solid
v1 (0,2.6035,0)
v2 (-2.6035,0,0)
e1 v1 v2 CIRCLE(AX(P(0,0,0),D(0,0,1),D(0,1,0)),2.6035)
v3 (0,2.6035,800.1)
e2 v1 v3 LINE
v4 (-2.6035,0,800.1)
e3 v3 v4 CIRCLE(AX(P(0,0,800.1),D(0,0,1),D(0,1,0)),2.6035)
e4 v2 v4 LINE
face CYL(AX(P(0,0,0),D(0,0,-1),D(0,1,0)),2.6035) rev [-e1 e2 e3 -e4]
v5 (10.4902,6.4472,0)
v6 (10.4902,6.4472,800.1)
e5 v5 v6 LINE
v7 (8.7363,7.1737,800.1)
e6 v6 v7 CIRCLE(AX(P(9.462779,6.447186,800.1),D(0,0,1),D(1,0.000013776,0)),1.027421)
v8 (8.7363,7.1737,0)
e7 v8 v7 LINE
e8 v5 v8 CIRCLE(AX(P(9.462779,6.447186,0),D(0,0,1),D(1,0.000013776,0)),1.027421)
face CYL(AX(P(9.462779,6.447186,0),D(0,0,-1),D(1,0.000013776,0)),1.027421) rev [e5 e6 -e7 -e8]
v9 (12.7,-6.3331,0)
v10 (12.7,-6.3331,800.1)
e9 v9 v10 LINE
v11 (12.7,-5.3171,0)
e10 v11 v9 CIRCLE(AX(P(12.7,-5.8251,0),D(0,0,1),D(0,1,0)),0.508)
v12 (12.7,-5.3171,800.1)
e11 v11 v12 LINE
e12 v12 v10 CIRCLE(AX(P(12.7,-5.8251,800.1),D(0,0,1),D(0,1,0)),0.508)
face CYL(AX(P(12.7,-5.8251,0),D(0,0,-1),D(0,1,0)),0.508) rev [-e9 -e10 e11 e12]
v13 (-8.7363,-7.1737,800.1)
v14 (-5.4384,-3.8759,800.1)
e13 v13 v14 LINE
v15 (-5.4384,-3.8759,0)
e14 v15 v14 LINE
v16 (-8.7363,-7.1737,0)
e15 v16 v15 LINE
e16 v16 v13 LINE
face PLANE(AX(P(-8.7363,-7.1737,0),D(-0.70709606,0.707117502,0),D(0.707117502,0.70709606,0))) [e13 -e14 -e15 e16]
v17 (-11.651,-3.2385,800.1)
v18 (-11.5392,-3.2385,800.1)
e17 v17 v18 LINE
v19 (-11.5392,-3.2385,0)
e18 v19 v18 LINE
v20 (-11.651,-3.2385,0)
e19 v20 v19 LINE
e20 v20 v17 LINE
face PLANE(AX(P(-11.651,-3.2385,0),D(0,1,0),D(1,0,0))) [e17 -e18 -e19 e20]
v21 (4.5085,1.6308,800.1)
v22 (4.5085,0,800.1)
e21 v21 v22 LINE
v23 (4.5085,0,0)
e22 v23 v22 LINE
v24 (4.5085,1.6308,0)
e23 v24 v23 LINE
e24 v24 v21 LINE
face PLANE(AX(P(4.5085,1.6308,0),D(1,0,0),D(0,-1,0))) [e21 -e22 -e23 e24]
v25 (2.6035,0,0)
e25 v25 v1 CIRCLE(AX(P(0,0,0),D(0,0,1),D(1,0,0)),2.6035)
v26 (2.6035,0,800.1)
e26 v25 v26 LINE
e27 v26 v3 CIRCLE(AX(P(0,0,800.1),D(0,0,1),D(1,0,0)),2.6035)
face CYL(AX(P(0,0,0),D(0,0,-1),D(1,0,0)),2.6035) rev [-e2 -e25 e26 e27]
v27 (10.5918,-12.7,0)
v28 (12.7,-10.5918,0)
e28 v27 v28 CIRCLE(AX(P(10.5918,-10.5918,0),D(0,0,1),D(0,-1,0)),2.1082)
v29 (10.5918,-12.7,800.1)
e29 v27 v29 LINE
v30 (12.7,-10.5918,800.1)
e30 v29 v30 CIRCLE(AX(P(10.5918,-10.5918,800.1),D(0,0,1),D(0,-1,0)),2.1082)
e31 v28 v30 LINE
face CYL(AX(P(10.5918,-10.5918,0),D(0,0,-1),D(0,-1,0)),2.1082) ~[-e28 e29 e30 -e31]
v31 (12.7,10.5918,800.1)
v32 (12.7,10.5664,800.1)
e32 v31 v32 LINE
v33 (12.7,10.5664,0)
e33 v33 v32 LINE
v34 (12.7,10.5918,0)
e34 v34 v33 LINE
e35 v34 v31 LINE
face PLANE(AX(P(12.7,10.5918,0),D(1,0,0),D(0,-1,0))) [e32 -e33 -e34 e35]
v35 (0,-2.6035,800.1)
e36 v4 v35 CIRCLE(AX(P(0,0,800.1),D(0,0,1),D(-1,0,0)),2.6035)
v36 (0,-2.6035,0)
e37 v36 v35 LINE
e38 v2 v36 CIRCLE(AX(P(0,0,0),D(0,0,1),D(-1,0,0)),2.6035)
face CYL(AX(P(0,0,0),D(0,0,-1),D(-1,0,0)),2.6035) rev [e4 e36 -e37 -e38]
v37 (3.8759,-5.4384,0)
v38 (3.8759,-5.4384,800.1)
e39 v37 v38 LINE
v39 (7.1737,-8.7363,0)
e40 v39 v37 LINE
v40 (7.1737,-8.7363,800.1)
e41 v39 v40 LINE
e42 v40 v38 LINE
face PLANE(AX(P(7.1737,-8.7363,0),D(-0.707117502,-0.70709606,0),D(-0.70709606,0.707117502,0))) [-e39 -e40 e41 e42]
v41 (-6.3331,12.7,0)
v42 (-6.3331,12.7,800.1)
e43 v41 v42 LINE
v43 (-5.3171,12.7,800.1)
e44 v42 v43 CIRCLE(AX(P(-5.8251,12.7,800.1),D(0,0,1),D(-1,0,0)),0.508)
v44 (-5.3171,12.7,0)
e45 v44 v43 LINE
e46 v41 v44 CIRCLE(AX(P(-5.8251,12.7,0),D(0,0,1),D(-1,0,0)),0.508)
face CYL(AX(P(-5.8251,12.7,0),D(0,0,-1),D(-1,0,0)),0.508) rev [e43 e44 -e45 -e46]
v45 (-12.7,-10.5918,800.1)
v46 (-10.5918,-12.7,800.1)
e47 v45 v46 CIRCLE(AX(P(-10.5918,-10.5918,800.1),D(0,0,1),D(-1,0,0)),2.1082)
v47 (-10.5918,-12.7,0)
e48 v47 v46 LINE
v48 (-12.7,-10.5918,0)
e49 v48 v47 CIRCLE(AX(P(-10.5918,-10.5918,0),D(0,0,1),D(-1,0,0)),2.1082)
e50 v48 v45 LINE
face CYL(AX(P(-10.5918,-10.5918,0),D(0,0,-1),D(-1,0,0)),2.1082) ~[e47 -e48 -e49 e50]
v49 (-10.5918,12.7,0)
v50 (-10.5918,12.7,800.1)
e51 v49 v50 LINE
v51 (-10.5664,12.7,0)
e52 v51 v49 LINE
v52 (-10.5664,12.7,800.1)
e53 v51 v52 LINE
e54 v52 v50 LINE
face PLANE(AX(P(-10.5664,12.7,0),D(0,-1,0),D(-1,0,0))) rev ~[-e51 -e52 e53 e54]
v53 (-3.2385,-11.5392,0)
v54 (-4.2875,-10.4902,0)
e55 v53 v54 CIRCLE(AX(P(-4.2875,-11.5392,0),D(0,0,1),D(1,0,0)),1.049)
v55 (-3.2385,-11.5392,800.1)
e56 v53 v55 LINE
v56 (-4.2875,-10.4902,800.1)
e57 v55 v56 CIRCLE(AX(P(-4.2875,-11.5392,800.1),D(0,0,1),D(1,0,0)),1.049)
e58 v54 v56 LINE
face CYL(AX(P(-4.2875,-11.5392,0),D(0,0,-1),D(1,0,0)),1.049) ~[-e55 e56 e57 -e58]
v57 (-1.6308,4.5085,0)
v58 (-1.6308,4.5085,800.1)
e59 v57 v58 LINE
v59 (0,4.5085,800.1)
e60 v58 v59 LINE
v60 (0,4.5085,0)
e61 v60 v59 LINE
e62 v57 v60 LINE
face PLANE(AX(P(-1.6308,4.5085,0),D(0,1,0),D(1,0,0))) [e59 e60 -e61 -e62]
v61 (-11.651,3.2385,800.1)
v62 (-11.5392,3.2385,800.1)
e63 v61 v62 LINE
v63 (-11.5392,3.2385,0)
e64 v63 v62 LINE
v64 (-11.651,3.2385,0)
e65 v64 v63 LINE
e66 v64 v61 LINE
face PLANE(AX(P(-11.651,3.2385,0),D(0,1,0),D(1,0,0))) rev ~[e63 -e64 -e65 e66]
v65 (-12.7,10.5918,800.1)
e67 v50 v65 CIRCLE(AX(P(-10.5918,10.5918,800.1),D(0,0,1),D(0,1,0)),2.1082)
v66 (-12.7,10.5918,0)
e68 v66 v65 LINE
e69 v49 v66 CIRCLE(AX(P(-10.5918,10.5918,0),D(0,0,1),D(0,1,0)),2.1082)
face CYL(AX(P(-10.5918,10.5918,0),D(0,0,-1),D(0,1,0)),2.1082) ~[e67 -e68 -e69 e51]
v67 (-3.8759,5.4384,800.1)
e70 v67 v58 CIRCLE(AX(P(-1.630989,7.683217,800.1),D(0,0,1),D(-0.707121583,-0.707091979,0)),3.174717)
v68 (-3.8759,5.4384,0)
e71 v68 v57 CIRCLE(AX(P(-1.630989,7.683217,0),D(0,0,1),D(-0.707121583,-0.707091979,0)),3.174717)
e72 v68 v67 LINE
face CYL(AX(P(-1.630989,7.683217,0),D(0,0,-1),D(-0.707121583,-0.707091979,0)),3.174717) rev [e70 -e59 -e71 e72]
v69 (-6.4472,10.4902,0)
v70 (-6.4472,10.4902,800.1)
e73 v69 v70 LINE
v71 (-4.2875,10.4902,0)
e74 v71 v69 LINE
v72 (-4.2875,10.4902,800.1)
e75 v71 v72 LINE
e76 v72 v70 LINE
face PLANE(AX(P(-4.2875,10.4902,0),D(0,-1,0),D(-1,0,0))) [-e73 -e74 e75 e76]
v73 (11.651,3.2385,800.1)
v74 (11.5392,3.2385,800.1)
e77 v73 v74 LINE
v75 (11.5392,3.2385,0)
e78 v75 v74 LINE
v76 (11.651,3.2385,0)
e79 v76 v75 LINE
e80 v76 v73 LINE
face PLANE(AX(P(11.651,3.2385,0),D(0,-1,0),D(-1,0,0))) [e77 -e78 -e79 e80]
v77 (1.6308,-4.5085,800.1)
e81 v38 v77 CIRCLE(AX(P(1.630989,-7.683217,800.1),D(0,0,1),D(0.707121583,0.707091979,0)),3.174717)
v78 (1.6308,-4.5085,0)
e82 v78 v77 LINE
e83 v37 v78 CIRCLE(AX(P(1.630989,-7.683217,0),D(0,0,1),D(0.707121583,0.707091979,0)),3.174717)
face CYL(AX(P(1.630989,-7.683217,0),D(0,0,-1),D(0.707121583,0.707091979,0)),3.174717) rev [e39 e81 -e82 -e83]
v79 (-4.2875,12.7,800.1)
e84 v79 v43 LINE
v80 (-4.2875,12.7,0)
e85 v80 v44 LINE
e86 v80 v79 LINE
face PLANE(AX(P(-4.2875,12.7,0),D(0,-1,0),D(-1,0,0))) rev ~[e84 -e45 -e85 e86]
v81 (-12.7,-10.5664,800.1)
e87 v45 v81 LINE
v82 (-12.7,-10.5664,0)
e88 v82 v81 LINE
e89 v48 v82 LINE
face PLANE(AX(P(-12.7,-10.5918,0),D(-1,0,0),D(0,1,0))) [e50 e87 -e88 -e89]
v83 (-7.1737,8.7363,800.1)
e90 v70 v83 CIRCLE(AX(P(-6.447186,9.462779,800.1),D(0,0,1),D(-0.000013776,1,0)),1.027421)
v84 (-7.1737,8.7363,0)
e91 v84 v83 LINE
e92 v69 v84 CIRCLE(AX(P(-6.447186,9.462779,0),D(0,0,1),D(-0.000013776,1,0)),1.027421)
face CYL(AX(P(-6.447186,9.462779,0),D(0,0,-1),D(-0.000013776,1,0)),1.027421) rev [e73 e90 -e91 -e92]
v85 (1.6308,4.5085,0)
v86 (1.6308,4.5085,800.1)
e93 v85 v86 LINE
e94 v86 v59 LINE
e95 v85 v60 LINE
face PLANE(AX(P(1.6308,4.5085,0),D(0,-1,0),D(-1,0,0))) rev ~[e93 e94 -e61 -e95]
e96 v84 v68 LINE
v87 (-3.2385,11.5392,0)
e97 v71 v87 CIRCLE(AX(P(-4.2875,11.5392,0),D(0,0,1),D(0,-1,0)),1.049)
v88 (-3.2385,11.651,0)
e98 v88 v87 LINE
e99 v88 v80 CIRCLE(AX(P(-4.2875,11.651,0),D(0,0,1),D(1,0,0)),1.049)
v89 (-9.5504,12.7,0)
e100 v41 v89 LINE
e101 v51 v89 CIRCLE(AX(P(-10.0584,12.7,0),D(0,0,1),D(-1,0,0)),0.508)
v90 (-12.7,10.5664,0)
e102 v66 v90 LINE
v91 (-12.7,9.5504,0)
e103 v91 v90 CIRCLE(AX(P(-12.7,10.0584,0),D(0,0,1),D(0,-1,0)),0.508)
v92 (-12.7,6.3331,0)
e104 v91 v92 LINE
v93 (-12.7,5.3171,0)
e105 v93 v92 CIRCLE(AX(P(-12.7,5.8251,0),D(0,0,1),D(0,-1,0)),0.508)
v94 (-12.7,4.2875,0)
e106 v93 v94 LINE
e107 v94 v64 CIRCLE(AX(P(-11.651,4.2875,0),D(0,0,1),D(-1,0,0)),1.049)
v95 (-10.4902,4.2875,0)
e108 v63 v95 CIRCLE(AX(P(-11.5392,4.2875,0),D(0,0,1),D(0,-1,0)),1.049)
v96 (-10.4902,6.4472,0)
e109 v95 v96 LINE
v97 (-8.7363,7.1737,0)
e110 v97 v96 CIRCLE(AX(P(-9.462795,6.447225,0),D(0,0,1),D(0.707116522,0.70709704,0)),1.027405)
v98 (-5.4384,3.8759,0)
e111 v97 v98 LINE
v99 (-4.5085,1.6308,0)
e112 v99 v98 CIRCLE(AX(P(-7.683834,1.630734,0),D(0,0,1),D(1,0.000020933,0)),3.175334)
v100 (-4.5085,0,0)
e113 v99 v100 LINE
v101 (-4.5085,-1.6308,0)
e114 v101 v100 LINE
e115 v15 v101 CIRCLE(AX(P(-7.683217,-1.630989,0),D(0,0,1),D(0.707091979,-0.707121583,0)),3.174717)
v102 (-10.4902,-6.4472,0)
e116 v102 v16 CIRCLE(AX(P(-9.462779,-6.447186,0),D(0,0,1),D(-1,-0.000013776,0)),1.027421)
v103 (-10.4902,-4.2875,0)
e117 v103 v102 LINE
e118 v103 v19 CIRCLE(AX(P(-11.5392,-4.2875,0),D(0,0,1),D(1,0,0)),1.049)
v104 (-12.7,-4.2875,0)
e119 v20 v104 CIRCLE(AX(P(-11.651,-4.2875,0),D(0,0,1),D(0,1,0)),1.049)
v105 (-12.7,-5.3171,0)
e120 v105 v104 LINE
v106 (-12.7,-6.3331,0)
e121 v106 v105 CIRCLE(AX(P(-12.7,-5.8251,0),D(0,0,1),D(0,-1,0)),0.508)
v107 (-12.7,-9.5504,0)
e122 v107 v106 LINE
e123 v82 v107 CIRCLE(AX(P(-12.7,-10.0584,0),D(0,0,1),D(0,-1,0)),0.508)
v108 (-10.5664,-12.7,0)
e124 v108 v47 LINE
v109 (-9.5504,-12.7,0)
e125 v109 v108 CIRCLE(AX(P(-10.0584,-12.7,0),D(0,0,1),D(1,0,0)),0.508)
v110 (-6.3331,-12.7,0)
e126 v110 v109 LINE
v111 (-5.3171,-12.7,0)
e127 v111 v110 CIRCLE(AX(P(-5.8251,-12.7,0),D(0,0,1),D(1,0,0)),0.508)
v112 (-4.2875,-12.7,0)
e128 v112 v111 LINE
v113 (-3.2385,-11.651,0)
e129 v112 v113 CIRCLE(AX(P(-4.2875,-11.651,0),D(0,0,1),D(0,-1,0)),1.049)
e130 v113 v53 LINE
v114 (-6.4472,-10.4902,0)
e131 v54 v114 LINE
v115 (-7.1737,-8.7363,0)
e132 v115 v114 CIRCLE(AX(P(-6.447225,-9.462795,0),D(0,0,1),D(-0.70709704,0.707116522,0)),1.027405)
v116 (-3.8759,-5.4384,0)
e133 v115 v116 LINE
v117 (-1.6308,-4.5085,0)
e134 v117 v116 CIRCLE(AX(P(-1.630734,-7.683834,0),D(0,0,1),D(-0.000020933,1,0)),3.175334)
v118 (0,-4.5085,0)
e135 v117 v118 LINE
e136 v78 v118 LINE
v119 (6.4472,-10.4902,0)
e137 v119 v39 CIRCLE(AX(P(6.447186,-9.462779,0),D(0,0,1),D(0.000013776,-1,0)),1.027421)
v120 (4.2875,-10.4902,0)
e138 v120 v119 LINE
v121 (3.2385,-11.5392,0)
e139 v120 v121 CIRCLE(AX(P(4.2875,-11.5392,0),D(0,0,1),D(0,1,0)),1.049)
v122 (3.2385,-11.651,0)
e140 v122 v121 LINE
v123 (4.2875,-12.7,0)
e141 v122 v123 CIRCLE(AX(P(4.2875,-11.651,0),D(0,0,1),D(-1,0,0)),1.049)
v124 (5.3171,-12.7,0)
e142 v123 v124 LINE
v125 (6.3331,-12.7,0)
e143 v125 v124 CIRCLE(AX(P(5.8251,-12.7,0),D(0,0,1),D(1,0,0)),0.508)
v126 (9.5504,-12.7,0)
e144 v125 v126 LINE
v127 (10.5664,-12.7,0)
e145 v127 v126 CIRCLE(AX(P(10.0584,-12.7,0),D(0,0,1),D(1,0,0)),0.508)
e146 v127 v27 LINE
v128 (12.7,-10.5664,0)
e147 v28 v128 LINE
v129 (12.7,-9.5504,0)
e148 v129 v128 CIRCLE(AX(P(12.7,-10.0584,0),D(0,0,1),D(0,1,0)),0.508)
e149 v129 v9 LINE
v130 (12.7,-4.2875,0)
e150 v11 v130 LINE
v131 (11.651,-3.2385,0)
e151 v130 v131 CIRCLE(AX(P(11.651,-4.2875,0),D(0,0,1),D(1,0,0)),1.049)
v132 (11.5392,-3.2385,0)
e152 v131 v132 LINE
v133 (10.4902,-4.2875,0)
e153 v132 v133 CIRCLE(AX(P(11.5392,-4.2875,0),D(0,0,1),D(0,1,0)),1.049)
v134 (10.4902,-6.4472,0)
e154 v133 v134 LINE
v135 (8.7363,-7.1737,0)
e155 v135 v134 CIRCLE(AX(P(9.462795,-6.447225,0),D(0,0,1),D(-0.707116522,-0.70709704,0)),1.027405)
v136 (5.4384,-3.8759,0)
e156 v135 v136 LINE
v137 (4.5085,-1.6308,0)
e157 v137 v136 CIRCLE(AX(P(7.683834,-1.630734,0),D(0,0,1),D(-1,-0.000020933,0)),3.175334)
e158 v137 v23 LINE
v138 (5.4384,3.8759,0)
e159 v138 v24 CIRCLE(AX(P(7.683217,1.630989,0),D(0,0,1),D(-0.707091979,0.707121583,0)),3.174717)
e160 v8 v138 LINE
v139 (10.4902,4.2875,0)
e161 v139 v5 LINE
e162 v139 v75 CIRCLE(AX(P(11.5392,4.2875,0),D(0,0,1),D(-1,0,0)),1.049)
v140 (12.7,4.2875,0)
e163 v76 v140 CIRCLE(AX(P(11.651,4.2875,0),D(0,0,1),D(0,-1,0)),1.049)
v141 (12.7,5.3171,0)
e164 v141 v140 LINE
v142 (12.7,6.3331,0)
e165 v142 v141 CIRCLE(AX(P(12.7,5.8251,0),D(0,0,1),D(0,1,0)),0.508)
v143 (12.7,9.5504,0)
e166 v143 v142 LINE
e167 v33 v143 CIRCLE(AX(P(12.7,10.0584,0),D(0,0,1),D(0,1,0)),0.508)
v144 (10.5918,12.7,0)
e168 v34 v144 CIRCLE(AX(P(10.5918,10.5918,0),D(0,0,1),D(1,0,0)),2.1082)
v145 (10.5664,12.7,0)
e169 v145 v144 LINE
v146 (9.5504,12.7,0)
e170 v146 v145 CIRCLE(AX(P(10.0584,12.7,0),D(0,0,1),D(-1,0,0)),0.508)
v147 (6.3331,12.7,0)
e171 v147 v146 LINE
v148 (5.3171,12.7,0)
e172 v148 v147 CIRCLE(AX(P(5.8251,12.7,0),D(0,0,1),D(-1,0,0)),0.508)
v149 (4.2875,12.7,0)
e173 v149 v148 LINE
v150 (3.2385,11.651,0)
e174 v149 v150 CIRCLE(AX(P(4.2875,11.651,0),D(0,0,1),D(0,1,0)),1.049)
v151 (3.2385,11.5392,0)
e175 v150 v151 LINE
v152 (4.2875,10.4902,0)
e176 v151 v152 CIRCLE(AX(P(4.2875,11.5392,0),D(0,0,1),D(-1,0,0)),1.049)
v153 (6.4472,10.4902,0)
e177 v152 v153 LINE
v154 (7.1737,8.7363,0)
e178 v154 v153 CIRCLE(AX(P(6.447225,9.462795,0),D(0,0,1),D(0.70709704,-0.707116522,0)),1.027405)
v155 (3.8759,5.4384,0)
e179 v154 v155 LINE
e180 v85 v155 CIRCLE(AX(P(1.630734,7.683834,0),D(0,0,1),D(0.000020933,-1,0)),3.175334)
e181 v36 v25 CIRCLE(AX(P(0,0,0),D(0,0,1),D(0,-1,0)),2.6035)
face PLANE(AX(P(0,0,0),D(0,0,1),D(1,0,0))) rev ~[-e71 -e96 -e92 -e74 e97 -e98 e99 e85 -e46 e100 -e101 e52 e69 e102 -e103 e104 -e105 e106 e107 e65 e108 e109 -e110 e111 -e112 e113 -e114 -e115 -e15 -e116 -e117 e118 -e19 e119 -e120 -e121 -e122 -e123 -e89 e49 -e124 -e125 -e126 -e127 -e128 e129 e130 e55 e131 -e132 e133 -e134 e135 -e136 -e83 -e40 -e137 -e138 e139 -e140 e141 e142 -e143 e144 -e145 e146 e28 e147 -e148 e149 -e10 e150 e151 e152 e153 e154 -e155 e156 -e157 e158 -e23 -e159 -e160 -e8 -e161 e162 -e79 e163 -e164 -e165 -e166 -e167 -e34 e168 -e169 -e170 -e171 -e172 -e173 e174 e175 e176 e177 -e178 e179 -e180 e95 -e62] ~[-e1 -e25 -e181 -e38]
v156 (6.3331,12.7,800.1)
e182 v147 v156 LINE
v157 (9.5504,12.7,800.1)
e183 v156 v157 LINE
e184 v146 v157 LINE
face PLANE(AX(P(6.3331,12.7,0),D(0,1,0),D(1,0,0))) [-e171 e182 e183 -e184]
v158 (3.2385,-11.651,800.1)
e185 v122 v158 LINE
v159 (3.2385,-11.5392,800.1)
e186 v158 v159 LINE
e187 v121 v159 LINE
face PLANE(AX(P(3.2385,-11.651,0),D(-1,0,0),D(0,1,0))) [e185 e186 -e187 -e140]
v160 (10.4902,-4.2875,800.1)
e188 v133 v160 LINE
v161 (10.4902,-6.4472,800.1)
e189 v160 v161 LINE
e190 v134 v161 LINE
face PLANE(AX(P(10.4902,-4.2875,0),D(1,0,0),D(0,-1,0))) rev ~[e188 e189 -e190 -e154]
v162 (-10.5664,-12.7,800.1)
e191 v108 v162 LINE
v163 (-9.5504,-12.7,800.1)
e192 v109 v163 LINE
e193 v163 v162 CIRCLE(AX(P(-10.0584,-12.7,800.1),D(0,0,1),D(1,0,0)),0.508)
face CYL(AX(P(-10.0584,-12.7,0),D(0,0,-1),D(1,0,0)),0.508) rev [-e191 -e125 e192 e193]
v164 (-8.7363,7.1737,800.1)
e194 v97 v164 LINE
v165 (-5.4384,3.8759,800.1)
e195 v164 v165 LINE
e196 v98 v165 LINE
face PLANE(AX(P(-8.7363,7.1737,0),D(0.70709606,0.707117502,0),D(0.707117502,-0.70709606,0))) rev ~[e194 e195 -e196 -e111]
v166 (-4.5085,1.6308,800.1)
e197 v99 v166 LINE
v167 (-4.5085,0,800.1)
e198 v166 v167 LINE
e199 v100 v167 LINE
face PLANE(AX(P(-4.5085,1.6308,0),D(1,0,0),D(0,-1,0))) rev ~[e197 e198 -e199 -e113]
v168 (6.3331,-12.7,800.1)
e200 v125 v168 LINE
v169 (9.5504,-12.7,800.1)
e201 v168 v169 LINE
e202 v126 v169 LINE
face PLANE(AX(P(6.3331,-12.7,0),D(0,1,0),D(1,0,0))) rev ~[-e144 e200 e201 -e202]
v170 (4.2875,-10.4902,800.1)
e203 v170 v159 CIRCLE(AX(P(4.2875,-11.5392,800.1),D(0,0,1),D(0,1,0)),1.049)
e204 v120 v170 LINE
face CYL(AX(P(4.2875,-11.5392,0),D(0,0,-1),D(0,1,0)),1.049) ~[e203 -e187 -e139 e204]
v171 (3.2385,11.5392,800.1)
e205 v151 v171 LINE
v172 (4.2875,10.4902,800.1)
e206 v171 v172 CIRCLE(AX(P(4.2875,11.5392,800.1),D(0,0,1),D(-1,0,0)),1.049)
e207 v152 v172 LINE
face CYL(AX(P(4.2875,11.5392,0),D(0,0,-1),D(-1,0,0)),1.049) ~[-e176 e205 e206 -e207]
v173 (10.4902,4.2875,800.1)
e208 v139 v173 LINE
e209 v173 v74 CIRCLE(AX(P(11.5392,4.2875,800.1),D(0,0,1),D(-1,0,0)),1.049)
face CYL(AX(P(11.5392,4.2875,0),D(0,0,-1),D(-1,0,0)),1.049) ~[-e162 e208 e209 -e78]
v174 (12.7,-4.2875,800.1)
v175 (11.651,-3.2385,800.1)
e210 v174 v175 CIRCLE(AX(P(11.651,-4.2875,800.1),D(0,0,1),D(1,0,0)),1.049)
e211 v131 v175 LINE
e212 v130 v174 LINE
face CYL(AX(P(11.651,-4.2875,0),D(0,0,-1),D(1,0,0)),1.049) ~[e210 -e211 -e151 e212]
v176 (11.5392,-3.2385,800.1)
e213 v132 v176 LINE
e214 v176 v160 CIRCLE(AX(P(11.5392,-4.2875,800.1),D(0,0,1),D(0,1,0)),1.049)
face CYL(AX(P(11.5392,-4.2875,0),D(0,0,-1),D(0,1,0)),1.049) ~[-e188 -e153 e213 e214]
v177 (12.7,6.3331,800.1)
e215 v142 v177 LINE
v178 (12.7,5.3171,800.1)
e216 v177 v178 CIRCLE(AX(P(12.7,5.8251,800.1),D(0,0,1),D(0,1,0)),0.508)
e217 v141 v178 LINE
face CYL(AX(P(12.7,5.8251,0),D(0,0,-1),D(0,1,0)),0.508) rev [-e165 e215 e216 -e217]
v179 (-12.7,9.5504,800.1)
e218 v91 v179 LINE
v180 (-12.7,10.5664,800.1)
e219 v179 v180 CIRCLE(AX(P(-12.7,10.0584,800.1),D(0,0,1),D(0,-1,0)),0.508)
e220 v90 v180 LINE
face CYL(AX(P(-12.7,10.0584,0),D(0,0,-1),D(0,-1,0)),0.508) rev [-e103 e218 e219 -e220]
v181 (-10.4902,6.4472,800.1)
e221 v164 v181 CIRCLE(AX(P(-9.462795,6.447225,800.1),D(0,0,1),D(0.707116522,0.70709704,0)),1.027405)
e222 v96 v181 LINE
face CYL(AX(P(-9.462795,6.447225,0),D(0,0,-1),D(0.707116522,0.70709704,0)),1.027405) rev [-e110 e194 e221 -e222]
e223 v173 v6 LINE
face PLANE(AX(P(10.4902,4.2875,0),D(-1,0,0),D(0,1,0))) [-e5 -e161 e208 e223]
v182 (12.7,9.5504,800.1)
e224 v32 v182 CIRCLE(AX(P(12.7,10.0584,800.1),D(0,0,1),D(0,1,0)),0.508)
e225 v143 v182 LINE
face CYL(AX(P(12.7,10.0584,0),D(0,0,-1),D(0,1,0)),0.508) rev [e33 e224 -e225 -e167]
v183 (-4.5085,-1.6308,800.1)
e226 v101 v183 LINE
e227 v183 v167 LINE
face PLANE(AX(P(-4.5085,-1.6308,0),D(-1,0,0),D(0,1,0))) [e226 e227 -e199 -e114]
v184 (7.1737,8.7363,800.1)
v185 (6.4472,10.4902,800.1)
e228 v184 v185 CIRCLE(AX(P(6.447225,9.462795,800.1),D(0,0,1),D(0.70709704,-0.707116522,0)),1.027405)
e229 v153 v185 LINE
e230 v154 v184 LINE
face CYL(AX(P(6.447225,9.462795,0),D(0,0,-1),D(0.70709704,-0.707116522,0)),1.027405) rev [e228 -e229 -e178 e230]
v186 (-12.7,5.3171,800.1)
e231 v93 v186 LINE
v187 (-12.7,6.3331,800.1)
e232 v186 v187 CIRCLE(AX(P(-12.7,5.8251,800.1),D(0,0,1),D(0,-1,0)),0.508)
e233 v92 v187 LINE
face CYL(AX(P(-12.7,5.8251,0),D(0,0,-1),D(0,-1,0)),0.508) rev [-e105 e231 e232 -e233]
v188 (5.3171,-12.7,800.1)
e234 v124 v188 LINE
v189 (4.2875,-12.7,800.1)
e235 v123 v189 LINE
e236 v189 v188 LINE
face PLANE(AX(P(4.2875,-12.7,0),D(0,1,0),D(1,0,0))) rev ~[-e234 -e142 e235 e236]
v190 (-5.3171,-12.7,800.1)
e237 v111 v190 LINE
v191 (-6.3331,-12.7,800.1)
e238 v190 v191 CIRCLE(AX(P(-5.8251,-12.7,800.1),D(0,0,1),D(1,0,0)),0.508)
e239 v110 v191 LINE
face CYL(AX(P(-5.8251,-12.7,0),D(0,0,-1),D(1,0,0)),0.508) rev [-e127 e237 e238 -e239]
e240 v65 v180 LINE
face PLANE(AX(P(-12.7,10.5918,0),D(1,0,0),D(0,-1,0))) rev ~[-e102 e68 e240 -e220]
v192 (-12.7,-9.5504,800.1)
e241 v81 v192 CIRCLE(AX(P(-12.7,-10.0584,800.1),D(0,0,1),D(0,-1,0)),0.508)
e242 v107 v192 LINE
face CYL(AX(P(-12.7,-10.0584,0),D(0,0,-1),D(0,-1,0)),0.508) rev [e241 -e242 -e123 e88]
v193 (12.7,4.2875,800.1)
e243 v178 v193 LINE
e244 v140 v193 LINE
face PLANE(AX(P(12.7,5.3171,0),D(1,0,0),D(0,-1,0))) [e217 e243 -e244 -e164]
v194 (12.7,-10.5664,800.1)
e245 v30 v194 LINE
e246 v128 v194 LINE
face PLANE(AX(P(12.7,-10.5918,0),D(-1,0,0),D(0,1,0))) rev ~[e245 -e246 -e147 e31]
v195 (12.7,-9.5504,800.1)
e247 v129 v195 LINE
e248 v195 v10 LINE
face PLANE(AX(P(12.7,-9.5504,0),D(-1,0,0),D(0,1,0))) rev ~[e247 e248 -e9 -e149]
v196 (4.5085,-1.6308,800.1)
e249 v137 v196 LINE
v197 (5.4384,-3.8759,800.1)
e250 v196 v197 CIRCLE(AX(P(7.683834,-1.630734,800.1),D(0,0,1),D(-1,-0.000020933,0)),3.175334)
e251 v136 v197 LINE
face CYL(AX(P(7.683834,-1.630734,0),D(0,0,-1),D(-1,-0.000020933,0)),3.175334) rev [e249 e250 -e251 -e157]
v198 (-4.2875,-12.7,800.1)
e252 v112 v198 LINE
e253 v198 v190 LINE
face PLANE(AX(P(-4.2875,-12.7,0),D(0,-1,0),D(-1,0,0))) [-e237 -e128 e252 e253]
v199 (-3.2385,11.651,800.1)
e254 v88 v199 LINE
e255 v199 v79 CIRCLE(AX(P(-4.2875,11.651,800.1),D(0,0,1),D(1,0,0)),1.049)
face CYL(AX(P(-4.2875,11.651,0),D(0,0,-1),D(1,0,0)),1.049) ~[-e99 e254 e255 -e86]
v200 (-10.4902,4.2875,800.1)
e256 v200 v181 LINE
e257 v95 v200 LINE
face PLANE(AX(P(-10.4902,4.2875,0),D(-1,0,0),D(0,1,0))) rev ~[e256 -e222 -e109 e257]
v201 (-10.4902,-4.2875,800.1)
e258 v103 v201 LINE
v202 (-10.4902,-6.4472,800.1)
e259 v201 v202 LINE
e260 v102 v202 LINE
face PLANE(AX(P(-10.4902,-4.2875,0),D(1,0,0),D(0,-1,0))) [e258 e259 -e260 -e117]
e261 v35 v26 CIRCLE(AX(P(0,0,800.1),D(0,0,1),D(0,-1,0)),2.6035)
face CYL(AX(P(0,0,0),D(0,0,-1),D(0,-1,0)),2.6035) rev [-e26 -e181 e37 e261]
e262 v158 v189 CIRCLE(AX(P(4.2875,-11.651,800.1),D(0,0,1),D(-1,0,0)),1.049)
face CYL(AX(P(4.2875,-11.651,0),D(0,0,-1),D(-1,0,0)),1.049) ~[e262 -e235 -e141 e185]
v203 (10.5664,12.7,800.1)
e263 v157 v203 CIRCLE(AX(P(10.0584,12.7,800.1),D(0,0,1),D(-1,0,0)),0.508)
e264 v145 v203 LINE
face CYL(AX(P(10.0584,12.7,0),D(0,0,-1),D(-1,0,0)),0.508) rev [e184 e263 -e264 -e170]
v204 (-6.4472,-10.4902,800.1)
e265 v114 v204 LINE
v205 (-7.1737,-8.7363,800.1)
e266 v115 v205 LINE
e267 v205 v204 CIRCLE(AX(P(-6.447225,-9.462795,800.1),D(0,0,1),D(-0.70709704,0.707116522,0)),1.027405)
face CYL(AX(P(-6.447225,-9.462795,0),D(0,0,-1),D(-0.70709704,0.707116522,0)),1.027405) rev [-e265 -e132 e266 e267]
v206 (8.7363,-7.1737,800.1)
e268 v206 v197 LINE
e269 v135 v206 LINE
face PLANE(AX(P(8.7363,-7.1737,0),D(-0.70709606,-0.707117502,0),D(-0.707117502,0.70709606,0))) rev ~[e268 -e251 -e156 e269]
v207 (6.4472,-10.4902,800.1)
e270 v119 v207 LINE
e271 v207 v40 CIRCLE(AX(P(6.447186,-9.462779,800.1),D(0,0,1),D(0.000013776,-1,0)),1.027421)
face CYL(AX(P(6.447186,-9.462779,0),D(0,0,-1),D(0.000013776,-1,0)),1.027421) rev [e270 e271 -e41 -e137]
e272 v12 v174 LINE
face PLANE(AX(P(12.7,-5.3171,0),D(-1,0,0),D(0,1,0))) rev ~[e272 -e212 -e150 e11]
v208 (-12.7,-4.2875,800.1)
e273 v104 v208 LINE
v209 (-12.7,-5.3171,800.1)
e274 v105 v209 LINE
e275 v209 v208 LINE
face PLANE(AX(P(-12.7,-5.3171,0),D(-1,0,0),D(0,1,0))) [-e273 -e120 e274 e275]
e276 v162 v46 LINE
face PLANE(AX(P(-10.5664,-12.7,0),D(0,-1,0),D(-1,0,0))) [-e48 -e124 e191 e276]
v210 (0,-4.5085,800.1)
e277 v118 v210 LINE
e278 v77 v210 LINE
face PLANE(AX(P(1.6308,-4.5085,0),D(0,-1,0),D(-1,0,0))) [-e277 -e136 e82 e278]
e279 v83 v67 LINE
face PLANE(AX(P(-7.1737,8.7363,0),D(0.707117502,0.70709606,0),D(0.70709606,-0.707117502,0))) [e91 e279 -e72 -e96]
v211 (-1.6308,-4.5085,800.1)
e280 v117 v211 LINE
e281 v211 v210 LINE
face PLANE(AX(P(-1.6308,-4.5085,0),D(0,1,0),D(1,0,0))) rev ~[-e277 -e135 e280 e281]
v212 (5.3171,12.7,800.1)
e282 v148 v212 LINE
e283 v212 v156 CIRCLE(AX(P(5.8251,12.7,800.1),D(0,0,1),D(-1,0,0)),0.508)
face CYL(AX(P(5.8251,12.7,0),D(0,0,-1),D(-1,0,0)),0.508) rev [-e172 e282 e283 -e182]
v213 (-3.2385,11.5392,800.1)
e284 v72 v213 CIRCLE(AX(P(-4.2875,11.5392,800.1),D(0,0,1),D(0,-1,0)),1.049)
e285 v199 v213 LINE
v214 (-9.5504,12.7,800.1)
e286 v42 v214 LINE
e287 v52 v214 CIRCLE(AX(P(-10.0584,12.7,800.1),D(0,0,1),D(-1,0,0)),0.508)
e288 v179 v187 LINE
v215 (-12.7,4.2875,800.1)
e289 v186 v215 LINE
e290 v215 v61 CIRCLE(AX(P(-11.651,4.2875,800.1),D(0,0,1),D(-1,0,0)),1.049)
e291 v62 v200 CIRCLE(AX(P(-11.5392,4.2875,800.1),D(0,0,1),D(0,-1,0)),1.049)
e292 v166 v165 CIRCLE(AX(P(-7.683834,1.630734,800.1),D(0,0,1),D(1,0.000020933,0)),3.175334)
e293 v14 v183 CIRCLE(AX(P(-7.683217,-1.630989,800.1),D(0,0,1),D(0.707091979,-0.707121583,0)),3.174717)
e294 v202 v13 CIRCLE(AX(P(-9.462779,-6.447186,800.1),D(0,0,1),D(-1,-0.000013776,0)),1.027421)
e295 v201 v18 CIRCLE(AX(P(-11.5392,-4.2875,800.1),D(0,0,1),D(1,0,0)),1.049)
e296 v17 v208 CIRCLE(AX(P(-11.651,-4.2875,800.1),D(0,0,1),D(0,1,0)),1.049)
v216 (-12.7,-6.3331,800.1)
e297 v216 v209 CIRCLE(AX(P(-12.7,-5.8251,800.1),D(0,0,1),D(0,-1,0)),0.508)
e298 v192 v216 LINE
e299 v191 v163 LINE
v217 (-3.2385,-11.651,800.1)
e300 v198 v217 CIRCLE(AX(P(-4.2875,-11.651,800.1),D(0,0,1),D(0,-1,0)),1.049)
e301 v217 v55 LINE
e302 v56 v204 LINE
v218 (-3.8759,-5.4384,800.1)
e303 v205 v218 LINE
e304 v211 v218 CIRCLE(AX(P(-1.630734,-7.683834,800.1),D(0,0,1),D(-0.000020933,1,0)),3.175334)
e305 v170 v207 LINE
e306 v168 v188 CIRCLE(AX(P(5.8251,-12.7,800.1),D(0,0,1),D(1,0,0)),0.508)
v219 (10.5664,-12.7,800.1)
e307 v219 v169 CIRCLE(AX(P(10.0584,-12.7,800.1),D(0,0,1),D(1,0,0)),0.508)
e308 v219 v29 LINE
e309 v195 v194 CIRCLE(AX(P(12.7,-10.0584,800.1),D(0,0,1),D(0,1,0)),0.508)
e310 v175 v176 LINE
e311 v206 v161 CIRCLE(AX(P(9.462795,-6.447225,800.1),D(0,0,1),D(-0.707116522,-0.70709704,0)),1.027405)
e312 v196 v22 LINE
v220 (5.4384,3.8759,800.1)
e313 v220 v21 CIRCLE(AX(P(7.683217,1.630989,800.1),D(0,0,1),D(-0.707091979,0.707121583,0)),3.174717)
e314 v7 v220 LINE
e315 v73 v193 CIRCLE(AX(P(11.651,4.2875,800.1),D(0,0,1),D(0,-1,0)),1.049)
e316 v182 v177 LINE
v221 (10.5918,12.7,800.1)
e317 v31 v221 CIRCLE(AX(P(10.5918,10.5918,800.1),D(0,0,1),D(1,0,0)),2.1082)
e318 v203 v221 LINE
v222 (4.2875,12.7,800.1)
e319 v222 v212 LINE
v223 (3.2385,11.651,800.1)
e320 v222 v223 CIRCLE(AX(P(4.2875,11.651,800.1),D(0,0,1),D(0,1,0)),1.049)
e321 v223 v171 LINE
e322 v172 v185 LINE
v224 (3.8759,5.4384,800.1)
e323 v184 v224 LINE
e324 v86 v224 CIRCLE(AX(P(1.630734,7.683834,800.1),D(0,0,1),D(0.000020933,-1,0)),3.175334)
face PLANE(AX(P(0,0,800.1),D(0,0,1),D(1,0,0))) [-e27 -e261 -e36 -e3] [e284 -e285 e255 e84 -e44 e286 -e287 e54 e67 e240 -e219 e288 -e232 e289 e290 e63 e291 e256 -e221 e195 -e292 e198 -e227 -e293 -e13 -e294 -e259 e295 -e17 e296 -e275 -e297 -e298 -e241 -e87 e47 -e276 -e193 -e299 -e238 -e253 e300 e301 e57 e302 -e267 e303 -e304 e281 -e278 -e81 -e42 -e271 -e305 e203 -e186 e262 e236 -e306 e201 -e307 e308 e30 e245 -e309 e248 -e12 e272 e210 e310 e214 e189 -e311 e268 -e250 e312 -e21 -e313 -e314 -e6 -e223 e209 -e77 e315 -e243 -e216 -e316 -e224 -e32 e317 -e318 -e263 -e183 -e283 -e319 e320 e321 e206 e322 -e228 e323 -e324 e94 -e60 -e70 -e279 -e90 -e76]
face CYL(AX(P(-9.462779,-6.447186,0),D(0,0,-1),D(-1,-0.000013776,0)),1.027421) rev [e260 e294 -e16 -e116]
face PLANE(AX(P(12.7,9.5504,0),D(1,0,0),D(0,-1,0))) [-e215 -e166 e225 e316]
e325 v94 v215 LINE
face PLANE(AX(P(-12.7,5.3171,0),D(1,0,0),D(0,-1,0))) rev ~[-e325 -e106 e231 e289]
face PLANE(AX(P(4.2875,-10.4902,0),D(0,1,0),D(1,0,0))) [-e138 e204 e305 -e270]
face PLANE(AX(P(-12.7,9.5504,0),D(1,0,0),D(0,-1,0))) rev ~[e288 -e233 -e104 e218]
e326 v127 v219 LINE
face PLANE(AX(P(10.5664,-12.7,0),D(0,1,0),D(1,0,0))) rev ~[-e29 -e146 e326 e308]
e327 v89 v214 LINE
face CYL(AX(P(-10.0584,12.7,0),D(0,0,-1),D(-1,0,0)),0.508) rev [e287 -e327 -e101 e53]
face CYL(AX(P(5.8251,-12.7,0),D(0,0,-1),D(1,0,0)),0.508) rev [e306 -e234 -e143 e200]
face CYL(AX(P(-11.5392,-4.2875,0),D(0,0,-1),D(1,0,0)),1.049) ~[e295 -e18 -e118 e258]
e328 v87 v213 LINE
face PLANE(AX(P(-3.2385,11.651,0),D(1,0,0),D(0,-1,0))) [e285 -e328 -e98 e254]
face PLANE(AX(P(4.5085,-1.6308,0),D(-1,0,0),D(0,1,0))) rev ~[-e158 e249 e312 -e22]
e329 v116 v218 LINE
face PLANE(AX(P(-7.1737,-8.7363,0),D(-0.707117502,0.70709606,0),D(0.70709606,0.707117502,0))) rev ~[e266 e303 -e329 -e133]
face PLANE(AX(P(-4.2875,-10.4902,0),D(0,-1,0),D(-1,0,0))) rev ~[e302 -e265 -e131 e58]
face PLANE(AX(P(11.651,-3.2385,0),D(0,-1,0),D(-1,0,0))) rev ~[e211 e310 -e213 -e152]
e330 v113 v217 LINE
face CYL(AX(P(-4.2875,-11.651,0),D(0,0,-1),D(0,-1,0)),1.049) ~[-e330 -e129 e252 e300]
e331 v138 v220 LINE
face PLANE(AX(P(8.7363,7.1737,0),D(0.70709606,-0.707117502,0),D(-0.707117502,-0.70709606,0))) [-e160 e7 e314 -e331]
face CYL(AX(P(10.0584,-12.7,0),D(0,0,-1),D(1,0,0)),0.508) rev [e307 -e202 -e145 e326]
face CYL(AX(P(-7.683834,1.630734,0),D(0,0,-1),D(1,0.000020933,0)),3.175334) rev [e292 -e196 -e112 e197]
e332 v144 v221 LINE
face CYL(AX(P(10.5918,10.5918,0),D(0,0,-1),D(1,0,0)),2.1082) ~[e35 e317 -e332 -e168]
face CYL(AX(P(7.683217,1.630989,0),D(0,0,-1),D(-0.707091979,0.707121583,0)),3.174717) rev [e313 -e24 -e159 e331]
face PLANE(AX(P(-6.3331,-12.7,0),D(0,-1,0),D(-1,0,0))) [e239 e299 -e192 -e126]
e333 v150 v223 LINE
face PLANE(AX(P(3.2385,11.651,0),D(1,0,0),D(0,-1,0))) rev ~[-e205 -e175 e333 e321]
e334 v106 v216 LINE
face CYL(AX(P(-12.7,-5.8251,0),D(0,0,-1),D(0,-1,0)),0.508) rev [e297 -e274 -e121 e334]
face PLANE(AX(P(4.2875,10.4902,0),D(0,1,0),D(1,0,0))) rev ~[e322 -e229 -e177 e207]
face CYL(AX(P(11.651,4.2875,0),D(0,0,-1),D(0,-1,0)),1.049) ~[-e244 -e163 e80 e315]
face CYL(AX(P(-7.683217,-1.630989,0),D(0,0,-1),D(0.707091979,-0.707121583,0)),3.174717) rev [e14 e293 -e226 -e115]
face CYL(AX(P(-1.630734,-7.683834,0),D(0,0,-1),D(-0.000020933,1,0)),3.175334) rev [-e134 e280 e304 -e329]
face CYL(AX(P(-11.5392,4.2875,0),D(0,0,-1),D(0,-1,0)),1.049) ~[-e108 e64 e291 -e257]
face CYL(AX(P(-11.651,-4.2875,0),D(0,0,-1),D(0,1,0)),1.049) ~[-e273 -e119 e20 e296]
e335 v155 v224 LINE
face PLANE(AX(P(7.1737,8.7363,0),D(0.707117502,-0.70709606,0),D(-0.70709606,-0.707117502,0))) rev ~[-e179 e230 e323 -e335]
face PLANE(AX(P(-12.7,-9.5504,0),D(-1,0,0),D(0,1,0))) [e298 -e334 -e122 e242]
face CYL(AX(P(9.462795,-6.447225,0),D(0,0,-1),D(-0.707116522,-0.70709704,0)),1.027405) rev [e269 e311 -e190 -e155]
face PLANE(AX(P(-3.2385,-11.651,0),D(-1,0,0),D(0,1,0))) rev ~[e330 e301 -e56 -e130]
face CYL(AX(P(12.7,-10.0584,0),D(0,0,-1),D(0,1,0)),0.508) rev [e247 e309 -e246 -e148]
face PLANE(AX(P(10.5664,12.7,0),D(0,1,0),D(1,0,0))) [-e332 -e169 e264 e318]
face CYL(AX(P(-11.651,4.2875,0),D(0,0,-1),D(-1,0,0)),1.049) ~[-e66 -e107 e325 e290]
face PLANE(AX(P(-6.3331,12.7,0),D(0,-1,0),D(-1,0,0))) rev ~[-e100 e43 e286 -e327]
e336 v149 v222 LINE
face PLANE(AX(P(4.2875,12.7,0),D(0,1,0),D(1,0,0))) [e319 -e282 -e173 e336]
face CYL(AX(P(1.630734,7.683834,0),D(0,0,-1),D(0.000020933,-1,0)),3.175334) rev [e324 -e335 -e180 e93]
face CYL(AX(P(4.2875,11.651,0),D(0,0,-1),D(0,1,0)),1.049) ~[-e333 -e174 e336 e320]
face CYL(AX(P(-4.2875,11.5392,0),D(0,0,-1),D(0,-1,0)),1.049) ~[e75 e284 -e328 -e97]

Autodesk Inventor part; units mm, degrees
ref_plane "YZ Plane" through (0, 0, 0) normal (1, 0, 0) x (0, 1, 0)
ref_plane "XZ Plane" through (0, 0, 0) normal (0, 1, 0) x (-1, 0, 0)
ref_plane "XY Plane" through (0, 0, 0) normal (0, 0, 1) x (1, 0, 0)
sketch "Sketch2" plane through (0, 0, 0) normal (0, 0, 1) x (1, 0, 0)
  line L0 (-11.651, 3.2385) -> (-11.5392, 3.2385)
  line L1 (-10.4902, 4.2875) -> (-10.4902, 6.4472)
  line L2 (-8.7363, 7.1737) -> (-5.4384, 3.8759)
  line L3 (-4.5085, 1.6308) -> (-4.5085, 0)
  line L4 (-3.2385, 11.651) -> (-3.2385, 11.5392)
  line L5 (-4.2875, 10.4902) -> (-6.4472, 10.4902)
  line L6 (-7.1737, 8.7363) -> (-3.8759, 5.4384)
  line L7 (-1.6308, 4.5085) -> (0, 4.5085)
  line L8 (-12.7, 12.7) -> (0, 0) construction
  line L9 (0, 12.7) -> (0, 0) construction
  line L10 (0, 0) -> (-12.7, 0) construction
  arc A0 (-10.5918, 12.7) -> (-12.7, 10.5918) centre (-10.5918, 10.5918) ccw
  arc A1 (-12.7, 4.2875) -> (-11.651, 3.2385) centre (-11.651, 4.2875) ccw
  arc A2 (-11.5392, 3.2385) -> (-10.4902, 4.2875) centre (-11.5392, 4.2875) ccw
  arc A3 (-4.2875, 10.4902) -> (-3.2385, 11.5392) centre (-4.2875, 11.5392) ccw
  arc A4 (-3.2385, 11.651) -> (-4.2875, 12.7) centre (-4.2875, 11.651) ccw
  arc A5 (-4.5085, 1.6308) -> (-5.4384, 3.8759) centre (-7.6835, 1.6308) ccw
  arc A6 (-3.8759, 5.4384) -> (-1.6308, 4.5085) centre (-1.6308, 7.6835) ccw
  arc A7 (-8.7363, 7.1737) -> (-10.4902, 6.4472) centre (-9.4628, 6.4472) ccw
  arc A8 (-6.4472, 10.4902) -> (-7.1737, 8.7363) centre (-6.4472, 9.4628) ccw
  arc A9 (0, 2.6035) -> (-2.6035, 0) centre (0, 0) ccw
  arc A10 (-10.5664, 12.7) -> (-9.5504, 12.7) centre (-10.0584, 12.7) ccw
  arc A11 (-6.3331, 12.7) -> (-5.3171, 12.7) centre (-5.8251, 12.7) ccw
  arc A12 (-12.7, 9.5504) -> (-12.7, 10.5664) centre (-12.7, 10.0584) ccw
  arc A13 (-12.7, 5.3171) -> (-12.7, 6.3331) centre (-12.7, 5.8251) ccw
  line L11 (-4.2875, 12.7) -> (-5.3171, 12.7)
  line L12 (-6.3331, 12.7) -> (-9.5504, 12.7)
  line L13 (-10.5664, 12.7) -> (-10.5918, 12.7)
  line L14 (-12.7, 10.5918) -> (-12.7, 10.5664)
  line L15 (-12.7, 9.5504) -> (-12.7, 6.3331)
  line L16 (-12.7, 5.3171) -> (-12.7, 4.2875)
  line L17 (11.651, 3.2385) -> (11.5392, 3.2385)
  line L18 (10.4902, 4.2875) -> (10.4902, 6.4472)
  line L19 (8.7363, 7.1737) -> (5.4384, 3.8759)
  line L20 (4.5085, 1.6308) -> (4.5085, 0)
  line L21 (3.2385, 11.651) -> (3.2385, 11.5392)
  line L22 (4.2875, 10.4902) -> (6.4472, 10.4902)
  line L23 (7.1737, 8.7363) -> (3.8759, 5.4384)
  line L24 (1.6308, 4.5085) -> (0, 4.5085)
  arc A14 (12.7, 10.5918) -> (10.5918, 12.7) centre (10.5918, 10.5918) ccw
  arc A15 (11.651, 3.2385) -> (12.7, 4.2875) centre (11.651, 4.2875) ccw
  arc A16 (10.4902, 4.2875) -> (11.5392, 3.2385) centre (11.5392, 4.2875) ccw
  arc A17 (3.2385, 11.5392) -> (4.2875, 10.4902) centre (4.2875, 11.5392) ccw
  arc A18 (4.2875, 12.7) -> (3.2385, 11.651) centre (4.2875, 11.651) ccw
  arc A19 (5.4384, 3.8759) -> (4.5085, 1.6308) centre (7.6835, 1.6308) ccw
  arc A20 (1.6308, 4.5085) -> (3.8759, 5.4384) centre (1.6308, 7.6835) ccw
  arc A21 (10.4902, 6.4472) -> (8.7363, 7.1737) centre (9.4628, 6.4472) ccw
  arc A22 (7.1737, 8.7363) -> (6.4472, 10.4902) centre (6.4472, 9.4628) ccw
  arc A23 (2.6035, 0) -> (0, 2.6035) centre (0, 0) ccw
  arc A24 (9.5504, 12.7) -> (10.5664, 12.7) centre (10.0584, 12.7) ccw
  arc A25 (5.3171, 12.7) -> (6.3331, 12.7) centre (5.8251, 12.7) ccw
  arc A26 (12.7, 10.5664) -> (12.7, 9.5504) centre (12.7, 10.0584) ccw
  arc A27 (12.7, 6.3331) -> (12.7, 5.3171) centre (12.7, 5.8251) ccw
  line L25 (4.2875, 12.7) -> (5.3171, 12.7)
  line L26 (6.3331, 12.7) -> (9.5504, 12.7)
  line L27 (10.5664, 12.7) -> (10.5918, 12.7)
  line L28 (12.7, 10.5918) -> (12.7, 10.5664)
  line L29 (12.7, 9.5504) -> (12.7, 6.3331)
  line L30 (12.7, 5.3171) -> (12.7, 4.2875)
  line L31 (-11.651, -3.2385) -> (-11.5392, -3.2385)
  line L32 (-10.4902, -4.2875) -> (-10.4902, -6.4472)
  line L33 (-8.7363, -7.1737) -> (-5.4384, -3.8759)
  line L34 (-3.2385, -11.651) -> (-3.2385, -11.5392)
  line L35 (-4.2875, -10.4902) -> (-6.4472, -10.4902)
  line L36 (-7.1737, -8.7363) -> (-3.8759, -5.4384)
  line L37 (-1.6308, -4.5085) -> (0, -4.5085)
  arc A28 (-12.7, -10.5918) -> (-10.5918, -12.7) centre (-10.5918, -10.5918) ccw
  arc A29 (-11.651, -3.2385) -> (-12.7, -4.2875) centre (-11.651, -4.2875) ccw
  arc A30 (-10.4902, -4.2875) -> (-11.5392, -3.2385) centre (-11.5392, -4.2875) ccw
  arc A31 (-3.2385, -11.5392) -> (-4.2875, -10.4902) centre (-4.2875, -11.5392) ccw
  arc A32 (-4.2875, -12.7) -> (-3.2385, -11.651) centre (-4.2875, -11.651) ccw
  arc A33 (-5.4384, -3.8759) -> (-4.5085, -1.6308) centre (-7.6835, -1.6308) ccw
  arc A34 (-1.6308, -4.5085) -> (-3.8759, -5.4384) centre (-1.6308, -7.6835) ccw
  arc A35 (-10.4902, -6.4472) -> (-8.7363, -7.1737) centre (-9.4628, -6.4472) ccw
  arc A36 (-7.1737, -8.7363) -> (-6.4472, -10.4902) centre (-6.4472, -9.4628) ccw
  arc A37 (-9.5504, -12.7) -> (-10.5664, -12.7) centre (-10.0584, -12.7) ccw
  arc A38 (-5.3171, -12.7) -> (-6.3331, -12.7) centre (-5.8251, -12.7) ccw
  arc A39 (-12.7, -10.5664) -> (-12.7, -9.5504) centre (-12.7, -10.0584) ccw
  arc A40 (-12.7, -6.3331) -> (-12.7, -5.3171) centre (-12.7, -5.8251) ccw
  line L38 (-4.2875, -12.7) -> (-5.3171, -12.7)
  line L39 (-6.3331, -12.7) -> (-9.5504, -12.7)
  line L40 (-10.5664, -12.7) -> (-10.5918, -12.7)
  line L41 (-12.7, -10.5918) -> (-12.7, -10.5664)
  line L42 (-12.7, -9.5504) -> (-12.7, -6.3331)
  line L43 (-12.7, -5.3171) -> (-12.7, -4.2875)
  line L44 (10.4902, -4.2875) -> (10.4902, -6.4472)
  arc A41 (4.5085, -1.6308) -> (5.4384, -3.8759) centre (7.6835, -1.6308) ccw
  line L45 (8.7363, -7.1737) -> (5.4384, -3.8759)
  line L46 (7.1737, -8.7363) -> (3.8759, -5.4384)
  arc A42 (3.8759, -5.4384) -> (1.6308, -4.5085) centre (1.6308, -7.6835) ccw
  line L47 (11.651, -3.2385) -> (11.5392, -3.2385)
  line L48 (4.2875, -10.4902) -> (6.4472, -10.4902)
  line L49 (4.2875, -12.7) -> (5.3171, -12.7)
  arc A43 (3.2385, -11.651) -> (4.2875, -12.7) centre (4.2875, -11.651) ccw
  line L50 (3.2385, -11.651) -> (3.2385, -11.5392)
  arc A44 (4.2875, -10.4902) -> (3.2385, -11.5392) centre (4.2875, -11.5392) ccw
  arc A45 (6.4472, -10.4902) -> (7.1737, -8.7363) centre (6.4472, -9.4628) ccw
  line L51 (6.3331, -12.7) -> (9.5504, -12.7)
  arc A46 (10.5664, -12.7) -> (9.5504, -12.7) centre (10.0584, -12.7) ccw
  line L52 (10.5664, -12.7) -> (10.5918, -12.7)
  arc A47 (10.5918, -12.7) -> (12.7, -10.5918) centre (10.5918, -10.5918) ccw
  arc A48 (6.3331, -12.7) -> (5.3171, -12.7) centre (5.8251, -12.7) ccw
  arc A49 (12.7, -4.2875) -> (11.651, -3.2385) centre (11.651, -4.2875) ccw
  arc A50 (11.5392, -3.2385) -> (10.4902, -4.2875) centre (11.5392, -4.2875) ccw
  arc A51 (8.7363, -7.1737) -> (10.4902, -6.4472) centre (9.4628, -6.4472) ccw
  line L53 (12.7, -10.5918) -> (12.7, -10.5664)
  arc A52 (12.7, -9.5504) -> (12.7, -10.5664) centre (12.7, -10.0584) ccw
  arc A53 (12.7, -5.3171) -> (12.7, -6.3331) centre (12.7, -5.8251) ccw
  line L54 (12.7, -5.3171) -> (12.7, -4.2875)
  line L55 (12.7, -9.5504) -> (12.7, -6.3331)
  line L56 (1.6308, -4.5085) -> (0, -4.5085)
  line L57 (-4.5085, -1.6308) -> (-4.5085, 0)
  arc A54 (-2.6035, 0) -> (0, -2.6035) centre (0, 0) ccw
  arc A55 (0, -2.6035) -> (2.6035, 0) centre (0, 0) ccw
  line L58 (4.5085, -1.6308) -> (4.5085, 0)
  line L59 (-12.7, 12.7) -> (12.7, 12.7)
  line L60 (12.7, 12.7) -> (12.7, -12.7)
  line L61 (12.7, -12.7) -> (-12.7, -12.7)
  line L62 (-12.7, -12.7) -> (-12.7, 12.7)
  point P0 (-3.2385, 12.7)
  point P1 (-12.7, 3.2385)
  point P2 (-3.2385, 10.4902)
  point P3 (3.2385, 12.7)
  point P4 (12.7, 3.2385)
  point P5 (3.2385, 10.4902)
  point P6 (-3.2385, -12.7)
  point P7 (-12.7, -3.2385)
  point P8 (-3.2385, -10.4902)
  point P9 (0, -12.7)
  point P10 (12.7, -3.2385)
  point P11 (3.2385, -12.7)
  point P12 (3.2385, -10.4902)
  point P13 (0, 12.7)
  dimension "d1" = 2.2098
  dimension "d2" = 3.2385
  dimension "d3" = 2.2098
  dimension "d4" = 4.5085
  dimension "d5" = 2.1082
  dimension "d6" = 1.049
  dimension "d7" = 3.175
  dimension "d8" = 1.0274
  dimension "d9" = 2.6035
  dimension "d10" = 2.5866
  dimension "d11" = 0.508
  dimension "d12" = 2.5866
  dimension "d13" = 3.2385
  dimension "d14" = 12.7
  dimension "d15" = 2.6416
  dimension "d16" = 2.2098
  dimension "d17" = 2.6416
extrude "Extrusion3" add sketch "Sketch2" along normal blind 800.1 contours A1 L16 A13 L15 A12 L14 A0 L13 A10 L12 A11 L11 A4 L4 A3 L5 A8 L6 A6 L7 L24 A20 L23 A22 L22 A17 L21 A18 L25 A25 L26 A24 L27 A14 L28 A26 L29 A27 L30 A15 L17 A16 L18 A21 L19 A19 L20 L58 A41 L45 A51 L44 A50 L47 A49 L54 A53 L55 A52 L53 A47 L52 A46 L51 A48 L49 A43 L50 A44 L48 A45 L46 A42 L56 L37 A34 L36 A36 L35 A31 L34 A32 L38 A38 L39 A37 L40 A28 L41 A39 L42 A40 L43 A29 L31 A30 L32 A35 L33 A33 L57 L3 A5 L2 A7 L1 A2 L0
equation "\"d3\" = d1"
equation "\"d12\" = d10"
equation "\"d13\" = d2"
equation "\"G_OFFSET_START\" = 0"
equation "\"G_OFFSET_END\" = 0"
equation "\"G_L\" = 50.8"
properties part number "Drawer Slide" material "Aluminum-6061"
